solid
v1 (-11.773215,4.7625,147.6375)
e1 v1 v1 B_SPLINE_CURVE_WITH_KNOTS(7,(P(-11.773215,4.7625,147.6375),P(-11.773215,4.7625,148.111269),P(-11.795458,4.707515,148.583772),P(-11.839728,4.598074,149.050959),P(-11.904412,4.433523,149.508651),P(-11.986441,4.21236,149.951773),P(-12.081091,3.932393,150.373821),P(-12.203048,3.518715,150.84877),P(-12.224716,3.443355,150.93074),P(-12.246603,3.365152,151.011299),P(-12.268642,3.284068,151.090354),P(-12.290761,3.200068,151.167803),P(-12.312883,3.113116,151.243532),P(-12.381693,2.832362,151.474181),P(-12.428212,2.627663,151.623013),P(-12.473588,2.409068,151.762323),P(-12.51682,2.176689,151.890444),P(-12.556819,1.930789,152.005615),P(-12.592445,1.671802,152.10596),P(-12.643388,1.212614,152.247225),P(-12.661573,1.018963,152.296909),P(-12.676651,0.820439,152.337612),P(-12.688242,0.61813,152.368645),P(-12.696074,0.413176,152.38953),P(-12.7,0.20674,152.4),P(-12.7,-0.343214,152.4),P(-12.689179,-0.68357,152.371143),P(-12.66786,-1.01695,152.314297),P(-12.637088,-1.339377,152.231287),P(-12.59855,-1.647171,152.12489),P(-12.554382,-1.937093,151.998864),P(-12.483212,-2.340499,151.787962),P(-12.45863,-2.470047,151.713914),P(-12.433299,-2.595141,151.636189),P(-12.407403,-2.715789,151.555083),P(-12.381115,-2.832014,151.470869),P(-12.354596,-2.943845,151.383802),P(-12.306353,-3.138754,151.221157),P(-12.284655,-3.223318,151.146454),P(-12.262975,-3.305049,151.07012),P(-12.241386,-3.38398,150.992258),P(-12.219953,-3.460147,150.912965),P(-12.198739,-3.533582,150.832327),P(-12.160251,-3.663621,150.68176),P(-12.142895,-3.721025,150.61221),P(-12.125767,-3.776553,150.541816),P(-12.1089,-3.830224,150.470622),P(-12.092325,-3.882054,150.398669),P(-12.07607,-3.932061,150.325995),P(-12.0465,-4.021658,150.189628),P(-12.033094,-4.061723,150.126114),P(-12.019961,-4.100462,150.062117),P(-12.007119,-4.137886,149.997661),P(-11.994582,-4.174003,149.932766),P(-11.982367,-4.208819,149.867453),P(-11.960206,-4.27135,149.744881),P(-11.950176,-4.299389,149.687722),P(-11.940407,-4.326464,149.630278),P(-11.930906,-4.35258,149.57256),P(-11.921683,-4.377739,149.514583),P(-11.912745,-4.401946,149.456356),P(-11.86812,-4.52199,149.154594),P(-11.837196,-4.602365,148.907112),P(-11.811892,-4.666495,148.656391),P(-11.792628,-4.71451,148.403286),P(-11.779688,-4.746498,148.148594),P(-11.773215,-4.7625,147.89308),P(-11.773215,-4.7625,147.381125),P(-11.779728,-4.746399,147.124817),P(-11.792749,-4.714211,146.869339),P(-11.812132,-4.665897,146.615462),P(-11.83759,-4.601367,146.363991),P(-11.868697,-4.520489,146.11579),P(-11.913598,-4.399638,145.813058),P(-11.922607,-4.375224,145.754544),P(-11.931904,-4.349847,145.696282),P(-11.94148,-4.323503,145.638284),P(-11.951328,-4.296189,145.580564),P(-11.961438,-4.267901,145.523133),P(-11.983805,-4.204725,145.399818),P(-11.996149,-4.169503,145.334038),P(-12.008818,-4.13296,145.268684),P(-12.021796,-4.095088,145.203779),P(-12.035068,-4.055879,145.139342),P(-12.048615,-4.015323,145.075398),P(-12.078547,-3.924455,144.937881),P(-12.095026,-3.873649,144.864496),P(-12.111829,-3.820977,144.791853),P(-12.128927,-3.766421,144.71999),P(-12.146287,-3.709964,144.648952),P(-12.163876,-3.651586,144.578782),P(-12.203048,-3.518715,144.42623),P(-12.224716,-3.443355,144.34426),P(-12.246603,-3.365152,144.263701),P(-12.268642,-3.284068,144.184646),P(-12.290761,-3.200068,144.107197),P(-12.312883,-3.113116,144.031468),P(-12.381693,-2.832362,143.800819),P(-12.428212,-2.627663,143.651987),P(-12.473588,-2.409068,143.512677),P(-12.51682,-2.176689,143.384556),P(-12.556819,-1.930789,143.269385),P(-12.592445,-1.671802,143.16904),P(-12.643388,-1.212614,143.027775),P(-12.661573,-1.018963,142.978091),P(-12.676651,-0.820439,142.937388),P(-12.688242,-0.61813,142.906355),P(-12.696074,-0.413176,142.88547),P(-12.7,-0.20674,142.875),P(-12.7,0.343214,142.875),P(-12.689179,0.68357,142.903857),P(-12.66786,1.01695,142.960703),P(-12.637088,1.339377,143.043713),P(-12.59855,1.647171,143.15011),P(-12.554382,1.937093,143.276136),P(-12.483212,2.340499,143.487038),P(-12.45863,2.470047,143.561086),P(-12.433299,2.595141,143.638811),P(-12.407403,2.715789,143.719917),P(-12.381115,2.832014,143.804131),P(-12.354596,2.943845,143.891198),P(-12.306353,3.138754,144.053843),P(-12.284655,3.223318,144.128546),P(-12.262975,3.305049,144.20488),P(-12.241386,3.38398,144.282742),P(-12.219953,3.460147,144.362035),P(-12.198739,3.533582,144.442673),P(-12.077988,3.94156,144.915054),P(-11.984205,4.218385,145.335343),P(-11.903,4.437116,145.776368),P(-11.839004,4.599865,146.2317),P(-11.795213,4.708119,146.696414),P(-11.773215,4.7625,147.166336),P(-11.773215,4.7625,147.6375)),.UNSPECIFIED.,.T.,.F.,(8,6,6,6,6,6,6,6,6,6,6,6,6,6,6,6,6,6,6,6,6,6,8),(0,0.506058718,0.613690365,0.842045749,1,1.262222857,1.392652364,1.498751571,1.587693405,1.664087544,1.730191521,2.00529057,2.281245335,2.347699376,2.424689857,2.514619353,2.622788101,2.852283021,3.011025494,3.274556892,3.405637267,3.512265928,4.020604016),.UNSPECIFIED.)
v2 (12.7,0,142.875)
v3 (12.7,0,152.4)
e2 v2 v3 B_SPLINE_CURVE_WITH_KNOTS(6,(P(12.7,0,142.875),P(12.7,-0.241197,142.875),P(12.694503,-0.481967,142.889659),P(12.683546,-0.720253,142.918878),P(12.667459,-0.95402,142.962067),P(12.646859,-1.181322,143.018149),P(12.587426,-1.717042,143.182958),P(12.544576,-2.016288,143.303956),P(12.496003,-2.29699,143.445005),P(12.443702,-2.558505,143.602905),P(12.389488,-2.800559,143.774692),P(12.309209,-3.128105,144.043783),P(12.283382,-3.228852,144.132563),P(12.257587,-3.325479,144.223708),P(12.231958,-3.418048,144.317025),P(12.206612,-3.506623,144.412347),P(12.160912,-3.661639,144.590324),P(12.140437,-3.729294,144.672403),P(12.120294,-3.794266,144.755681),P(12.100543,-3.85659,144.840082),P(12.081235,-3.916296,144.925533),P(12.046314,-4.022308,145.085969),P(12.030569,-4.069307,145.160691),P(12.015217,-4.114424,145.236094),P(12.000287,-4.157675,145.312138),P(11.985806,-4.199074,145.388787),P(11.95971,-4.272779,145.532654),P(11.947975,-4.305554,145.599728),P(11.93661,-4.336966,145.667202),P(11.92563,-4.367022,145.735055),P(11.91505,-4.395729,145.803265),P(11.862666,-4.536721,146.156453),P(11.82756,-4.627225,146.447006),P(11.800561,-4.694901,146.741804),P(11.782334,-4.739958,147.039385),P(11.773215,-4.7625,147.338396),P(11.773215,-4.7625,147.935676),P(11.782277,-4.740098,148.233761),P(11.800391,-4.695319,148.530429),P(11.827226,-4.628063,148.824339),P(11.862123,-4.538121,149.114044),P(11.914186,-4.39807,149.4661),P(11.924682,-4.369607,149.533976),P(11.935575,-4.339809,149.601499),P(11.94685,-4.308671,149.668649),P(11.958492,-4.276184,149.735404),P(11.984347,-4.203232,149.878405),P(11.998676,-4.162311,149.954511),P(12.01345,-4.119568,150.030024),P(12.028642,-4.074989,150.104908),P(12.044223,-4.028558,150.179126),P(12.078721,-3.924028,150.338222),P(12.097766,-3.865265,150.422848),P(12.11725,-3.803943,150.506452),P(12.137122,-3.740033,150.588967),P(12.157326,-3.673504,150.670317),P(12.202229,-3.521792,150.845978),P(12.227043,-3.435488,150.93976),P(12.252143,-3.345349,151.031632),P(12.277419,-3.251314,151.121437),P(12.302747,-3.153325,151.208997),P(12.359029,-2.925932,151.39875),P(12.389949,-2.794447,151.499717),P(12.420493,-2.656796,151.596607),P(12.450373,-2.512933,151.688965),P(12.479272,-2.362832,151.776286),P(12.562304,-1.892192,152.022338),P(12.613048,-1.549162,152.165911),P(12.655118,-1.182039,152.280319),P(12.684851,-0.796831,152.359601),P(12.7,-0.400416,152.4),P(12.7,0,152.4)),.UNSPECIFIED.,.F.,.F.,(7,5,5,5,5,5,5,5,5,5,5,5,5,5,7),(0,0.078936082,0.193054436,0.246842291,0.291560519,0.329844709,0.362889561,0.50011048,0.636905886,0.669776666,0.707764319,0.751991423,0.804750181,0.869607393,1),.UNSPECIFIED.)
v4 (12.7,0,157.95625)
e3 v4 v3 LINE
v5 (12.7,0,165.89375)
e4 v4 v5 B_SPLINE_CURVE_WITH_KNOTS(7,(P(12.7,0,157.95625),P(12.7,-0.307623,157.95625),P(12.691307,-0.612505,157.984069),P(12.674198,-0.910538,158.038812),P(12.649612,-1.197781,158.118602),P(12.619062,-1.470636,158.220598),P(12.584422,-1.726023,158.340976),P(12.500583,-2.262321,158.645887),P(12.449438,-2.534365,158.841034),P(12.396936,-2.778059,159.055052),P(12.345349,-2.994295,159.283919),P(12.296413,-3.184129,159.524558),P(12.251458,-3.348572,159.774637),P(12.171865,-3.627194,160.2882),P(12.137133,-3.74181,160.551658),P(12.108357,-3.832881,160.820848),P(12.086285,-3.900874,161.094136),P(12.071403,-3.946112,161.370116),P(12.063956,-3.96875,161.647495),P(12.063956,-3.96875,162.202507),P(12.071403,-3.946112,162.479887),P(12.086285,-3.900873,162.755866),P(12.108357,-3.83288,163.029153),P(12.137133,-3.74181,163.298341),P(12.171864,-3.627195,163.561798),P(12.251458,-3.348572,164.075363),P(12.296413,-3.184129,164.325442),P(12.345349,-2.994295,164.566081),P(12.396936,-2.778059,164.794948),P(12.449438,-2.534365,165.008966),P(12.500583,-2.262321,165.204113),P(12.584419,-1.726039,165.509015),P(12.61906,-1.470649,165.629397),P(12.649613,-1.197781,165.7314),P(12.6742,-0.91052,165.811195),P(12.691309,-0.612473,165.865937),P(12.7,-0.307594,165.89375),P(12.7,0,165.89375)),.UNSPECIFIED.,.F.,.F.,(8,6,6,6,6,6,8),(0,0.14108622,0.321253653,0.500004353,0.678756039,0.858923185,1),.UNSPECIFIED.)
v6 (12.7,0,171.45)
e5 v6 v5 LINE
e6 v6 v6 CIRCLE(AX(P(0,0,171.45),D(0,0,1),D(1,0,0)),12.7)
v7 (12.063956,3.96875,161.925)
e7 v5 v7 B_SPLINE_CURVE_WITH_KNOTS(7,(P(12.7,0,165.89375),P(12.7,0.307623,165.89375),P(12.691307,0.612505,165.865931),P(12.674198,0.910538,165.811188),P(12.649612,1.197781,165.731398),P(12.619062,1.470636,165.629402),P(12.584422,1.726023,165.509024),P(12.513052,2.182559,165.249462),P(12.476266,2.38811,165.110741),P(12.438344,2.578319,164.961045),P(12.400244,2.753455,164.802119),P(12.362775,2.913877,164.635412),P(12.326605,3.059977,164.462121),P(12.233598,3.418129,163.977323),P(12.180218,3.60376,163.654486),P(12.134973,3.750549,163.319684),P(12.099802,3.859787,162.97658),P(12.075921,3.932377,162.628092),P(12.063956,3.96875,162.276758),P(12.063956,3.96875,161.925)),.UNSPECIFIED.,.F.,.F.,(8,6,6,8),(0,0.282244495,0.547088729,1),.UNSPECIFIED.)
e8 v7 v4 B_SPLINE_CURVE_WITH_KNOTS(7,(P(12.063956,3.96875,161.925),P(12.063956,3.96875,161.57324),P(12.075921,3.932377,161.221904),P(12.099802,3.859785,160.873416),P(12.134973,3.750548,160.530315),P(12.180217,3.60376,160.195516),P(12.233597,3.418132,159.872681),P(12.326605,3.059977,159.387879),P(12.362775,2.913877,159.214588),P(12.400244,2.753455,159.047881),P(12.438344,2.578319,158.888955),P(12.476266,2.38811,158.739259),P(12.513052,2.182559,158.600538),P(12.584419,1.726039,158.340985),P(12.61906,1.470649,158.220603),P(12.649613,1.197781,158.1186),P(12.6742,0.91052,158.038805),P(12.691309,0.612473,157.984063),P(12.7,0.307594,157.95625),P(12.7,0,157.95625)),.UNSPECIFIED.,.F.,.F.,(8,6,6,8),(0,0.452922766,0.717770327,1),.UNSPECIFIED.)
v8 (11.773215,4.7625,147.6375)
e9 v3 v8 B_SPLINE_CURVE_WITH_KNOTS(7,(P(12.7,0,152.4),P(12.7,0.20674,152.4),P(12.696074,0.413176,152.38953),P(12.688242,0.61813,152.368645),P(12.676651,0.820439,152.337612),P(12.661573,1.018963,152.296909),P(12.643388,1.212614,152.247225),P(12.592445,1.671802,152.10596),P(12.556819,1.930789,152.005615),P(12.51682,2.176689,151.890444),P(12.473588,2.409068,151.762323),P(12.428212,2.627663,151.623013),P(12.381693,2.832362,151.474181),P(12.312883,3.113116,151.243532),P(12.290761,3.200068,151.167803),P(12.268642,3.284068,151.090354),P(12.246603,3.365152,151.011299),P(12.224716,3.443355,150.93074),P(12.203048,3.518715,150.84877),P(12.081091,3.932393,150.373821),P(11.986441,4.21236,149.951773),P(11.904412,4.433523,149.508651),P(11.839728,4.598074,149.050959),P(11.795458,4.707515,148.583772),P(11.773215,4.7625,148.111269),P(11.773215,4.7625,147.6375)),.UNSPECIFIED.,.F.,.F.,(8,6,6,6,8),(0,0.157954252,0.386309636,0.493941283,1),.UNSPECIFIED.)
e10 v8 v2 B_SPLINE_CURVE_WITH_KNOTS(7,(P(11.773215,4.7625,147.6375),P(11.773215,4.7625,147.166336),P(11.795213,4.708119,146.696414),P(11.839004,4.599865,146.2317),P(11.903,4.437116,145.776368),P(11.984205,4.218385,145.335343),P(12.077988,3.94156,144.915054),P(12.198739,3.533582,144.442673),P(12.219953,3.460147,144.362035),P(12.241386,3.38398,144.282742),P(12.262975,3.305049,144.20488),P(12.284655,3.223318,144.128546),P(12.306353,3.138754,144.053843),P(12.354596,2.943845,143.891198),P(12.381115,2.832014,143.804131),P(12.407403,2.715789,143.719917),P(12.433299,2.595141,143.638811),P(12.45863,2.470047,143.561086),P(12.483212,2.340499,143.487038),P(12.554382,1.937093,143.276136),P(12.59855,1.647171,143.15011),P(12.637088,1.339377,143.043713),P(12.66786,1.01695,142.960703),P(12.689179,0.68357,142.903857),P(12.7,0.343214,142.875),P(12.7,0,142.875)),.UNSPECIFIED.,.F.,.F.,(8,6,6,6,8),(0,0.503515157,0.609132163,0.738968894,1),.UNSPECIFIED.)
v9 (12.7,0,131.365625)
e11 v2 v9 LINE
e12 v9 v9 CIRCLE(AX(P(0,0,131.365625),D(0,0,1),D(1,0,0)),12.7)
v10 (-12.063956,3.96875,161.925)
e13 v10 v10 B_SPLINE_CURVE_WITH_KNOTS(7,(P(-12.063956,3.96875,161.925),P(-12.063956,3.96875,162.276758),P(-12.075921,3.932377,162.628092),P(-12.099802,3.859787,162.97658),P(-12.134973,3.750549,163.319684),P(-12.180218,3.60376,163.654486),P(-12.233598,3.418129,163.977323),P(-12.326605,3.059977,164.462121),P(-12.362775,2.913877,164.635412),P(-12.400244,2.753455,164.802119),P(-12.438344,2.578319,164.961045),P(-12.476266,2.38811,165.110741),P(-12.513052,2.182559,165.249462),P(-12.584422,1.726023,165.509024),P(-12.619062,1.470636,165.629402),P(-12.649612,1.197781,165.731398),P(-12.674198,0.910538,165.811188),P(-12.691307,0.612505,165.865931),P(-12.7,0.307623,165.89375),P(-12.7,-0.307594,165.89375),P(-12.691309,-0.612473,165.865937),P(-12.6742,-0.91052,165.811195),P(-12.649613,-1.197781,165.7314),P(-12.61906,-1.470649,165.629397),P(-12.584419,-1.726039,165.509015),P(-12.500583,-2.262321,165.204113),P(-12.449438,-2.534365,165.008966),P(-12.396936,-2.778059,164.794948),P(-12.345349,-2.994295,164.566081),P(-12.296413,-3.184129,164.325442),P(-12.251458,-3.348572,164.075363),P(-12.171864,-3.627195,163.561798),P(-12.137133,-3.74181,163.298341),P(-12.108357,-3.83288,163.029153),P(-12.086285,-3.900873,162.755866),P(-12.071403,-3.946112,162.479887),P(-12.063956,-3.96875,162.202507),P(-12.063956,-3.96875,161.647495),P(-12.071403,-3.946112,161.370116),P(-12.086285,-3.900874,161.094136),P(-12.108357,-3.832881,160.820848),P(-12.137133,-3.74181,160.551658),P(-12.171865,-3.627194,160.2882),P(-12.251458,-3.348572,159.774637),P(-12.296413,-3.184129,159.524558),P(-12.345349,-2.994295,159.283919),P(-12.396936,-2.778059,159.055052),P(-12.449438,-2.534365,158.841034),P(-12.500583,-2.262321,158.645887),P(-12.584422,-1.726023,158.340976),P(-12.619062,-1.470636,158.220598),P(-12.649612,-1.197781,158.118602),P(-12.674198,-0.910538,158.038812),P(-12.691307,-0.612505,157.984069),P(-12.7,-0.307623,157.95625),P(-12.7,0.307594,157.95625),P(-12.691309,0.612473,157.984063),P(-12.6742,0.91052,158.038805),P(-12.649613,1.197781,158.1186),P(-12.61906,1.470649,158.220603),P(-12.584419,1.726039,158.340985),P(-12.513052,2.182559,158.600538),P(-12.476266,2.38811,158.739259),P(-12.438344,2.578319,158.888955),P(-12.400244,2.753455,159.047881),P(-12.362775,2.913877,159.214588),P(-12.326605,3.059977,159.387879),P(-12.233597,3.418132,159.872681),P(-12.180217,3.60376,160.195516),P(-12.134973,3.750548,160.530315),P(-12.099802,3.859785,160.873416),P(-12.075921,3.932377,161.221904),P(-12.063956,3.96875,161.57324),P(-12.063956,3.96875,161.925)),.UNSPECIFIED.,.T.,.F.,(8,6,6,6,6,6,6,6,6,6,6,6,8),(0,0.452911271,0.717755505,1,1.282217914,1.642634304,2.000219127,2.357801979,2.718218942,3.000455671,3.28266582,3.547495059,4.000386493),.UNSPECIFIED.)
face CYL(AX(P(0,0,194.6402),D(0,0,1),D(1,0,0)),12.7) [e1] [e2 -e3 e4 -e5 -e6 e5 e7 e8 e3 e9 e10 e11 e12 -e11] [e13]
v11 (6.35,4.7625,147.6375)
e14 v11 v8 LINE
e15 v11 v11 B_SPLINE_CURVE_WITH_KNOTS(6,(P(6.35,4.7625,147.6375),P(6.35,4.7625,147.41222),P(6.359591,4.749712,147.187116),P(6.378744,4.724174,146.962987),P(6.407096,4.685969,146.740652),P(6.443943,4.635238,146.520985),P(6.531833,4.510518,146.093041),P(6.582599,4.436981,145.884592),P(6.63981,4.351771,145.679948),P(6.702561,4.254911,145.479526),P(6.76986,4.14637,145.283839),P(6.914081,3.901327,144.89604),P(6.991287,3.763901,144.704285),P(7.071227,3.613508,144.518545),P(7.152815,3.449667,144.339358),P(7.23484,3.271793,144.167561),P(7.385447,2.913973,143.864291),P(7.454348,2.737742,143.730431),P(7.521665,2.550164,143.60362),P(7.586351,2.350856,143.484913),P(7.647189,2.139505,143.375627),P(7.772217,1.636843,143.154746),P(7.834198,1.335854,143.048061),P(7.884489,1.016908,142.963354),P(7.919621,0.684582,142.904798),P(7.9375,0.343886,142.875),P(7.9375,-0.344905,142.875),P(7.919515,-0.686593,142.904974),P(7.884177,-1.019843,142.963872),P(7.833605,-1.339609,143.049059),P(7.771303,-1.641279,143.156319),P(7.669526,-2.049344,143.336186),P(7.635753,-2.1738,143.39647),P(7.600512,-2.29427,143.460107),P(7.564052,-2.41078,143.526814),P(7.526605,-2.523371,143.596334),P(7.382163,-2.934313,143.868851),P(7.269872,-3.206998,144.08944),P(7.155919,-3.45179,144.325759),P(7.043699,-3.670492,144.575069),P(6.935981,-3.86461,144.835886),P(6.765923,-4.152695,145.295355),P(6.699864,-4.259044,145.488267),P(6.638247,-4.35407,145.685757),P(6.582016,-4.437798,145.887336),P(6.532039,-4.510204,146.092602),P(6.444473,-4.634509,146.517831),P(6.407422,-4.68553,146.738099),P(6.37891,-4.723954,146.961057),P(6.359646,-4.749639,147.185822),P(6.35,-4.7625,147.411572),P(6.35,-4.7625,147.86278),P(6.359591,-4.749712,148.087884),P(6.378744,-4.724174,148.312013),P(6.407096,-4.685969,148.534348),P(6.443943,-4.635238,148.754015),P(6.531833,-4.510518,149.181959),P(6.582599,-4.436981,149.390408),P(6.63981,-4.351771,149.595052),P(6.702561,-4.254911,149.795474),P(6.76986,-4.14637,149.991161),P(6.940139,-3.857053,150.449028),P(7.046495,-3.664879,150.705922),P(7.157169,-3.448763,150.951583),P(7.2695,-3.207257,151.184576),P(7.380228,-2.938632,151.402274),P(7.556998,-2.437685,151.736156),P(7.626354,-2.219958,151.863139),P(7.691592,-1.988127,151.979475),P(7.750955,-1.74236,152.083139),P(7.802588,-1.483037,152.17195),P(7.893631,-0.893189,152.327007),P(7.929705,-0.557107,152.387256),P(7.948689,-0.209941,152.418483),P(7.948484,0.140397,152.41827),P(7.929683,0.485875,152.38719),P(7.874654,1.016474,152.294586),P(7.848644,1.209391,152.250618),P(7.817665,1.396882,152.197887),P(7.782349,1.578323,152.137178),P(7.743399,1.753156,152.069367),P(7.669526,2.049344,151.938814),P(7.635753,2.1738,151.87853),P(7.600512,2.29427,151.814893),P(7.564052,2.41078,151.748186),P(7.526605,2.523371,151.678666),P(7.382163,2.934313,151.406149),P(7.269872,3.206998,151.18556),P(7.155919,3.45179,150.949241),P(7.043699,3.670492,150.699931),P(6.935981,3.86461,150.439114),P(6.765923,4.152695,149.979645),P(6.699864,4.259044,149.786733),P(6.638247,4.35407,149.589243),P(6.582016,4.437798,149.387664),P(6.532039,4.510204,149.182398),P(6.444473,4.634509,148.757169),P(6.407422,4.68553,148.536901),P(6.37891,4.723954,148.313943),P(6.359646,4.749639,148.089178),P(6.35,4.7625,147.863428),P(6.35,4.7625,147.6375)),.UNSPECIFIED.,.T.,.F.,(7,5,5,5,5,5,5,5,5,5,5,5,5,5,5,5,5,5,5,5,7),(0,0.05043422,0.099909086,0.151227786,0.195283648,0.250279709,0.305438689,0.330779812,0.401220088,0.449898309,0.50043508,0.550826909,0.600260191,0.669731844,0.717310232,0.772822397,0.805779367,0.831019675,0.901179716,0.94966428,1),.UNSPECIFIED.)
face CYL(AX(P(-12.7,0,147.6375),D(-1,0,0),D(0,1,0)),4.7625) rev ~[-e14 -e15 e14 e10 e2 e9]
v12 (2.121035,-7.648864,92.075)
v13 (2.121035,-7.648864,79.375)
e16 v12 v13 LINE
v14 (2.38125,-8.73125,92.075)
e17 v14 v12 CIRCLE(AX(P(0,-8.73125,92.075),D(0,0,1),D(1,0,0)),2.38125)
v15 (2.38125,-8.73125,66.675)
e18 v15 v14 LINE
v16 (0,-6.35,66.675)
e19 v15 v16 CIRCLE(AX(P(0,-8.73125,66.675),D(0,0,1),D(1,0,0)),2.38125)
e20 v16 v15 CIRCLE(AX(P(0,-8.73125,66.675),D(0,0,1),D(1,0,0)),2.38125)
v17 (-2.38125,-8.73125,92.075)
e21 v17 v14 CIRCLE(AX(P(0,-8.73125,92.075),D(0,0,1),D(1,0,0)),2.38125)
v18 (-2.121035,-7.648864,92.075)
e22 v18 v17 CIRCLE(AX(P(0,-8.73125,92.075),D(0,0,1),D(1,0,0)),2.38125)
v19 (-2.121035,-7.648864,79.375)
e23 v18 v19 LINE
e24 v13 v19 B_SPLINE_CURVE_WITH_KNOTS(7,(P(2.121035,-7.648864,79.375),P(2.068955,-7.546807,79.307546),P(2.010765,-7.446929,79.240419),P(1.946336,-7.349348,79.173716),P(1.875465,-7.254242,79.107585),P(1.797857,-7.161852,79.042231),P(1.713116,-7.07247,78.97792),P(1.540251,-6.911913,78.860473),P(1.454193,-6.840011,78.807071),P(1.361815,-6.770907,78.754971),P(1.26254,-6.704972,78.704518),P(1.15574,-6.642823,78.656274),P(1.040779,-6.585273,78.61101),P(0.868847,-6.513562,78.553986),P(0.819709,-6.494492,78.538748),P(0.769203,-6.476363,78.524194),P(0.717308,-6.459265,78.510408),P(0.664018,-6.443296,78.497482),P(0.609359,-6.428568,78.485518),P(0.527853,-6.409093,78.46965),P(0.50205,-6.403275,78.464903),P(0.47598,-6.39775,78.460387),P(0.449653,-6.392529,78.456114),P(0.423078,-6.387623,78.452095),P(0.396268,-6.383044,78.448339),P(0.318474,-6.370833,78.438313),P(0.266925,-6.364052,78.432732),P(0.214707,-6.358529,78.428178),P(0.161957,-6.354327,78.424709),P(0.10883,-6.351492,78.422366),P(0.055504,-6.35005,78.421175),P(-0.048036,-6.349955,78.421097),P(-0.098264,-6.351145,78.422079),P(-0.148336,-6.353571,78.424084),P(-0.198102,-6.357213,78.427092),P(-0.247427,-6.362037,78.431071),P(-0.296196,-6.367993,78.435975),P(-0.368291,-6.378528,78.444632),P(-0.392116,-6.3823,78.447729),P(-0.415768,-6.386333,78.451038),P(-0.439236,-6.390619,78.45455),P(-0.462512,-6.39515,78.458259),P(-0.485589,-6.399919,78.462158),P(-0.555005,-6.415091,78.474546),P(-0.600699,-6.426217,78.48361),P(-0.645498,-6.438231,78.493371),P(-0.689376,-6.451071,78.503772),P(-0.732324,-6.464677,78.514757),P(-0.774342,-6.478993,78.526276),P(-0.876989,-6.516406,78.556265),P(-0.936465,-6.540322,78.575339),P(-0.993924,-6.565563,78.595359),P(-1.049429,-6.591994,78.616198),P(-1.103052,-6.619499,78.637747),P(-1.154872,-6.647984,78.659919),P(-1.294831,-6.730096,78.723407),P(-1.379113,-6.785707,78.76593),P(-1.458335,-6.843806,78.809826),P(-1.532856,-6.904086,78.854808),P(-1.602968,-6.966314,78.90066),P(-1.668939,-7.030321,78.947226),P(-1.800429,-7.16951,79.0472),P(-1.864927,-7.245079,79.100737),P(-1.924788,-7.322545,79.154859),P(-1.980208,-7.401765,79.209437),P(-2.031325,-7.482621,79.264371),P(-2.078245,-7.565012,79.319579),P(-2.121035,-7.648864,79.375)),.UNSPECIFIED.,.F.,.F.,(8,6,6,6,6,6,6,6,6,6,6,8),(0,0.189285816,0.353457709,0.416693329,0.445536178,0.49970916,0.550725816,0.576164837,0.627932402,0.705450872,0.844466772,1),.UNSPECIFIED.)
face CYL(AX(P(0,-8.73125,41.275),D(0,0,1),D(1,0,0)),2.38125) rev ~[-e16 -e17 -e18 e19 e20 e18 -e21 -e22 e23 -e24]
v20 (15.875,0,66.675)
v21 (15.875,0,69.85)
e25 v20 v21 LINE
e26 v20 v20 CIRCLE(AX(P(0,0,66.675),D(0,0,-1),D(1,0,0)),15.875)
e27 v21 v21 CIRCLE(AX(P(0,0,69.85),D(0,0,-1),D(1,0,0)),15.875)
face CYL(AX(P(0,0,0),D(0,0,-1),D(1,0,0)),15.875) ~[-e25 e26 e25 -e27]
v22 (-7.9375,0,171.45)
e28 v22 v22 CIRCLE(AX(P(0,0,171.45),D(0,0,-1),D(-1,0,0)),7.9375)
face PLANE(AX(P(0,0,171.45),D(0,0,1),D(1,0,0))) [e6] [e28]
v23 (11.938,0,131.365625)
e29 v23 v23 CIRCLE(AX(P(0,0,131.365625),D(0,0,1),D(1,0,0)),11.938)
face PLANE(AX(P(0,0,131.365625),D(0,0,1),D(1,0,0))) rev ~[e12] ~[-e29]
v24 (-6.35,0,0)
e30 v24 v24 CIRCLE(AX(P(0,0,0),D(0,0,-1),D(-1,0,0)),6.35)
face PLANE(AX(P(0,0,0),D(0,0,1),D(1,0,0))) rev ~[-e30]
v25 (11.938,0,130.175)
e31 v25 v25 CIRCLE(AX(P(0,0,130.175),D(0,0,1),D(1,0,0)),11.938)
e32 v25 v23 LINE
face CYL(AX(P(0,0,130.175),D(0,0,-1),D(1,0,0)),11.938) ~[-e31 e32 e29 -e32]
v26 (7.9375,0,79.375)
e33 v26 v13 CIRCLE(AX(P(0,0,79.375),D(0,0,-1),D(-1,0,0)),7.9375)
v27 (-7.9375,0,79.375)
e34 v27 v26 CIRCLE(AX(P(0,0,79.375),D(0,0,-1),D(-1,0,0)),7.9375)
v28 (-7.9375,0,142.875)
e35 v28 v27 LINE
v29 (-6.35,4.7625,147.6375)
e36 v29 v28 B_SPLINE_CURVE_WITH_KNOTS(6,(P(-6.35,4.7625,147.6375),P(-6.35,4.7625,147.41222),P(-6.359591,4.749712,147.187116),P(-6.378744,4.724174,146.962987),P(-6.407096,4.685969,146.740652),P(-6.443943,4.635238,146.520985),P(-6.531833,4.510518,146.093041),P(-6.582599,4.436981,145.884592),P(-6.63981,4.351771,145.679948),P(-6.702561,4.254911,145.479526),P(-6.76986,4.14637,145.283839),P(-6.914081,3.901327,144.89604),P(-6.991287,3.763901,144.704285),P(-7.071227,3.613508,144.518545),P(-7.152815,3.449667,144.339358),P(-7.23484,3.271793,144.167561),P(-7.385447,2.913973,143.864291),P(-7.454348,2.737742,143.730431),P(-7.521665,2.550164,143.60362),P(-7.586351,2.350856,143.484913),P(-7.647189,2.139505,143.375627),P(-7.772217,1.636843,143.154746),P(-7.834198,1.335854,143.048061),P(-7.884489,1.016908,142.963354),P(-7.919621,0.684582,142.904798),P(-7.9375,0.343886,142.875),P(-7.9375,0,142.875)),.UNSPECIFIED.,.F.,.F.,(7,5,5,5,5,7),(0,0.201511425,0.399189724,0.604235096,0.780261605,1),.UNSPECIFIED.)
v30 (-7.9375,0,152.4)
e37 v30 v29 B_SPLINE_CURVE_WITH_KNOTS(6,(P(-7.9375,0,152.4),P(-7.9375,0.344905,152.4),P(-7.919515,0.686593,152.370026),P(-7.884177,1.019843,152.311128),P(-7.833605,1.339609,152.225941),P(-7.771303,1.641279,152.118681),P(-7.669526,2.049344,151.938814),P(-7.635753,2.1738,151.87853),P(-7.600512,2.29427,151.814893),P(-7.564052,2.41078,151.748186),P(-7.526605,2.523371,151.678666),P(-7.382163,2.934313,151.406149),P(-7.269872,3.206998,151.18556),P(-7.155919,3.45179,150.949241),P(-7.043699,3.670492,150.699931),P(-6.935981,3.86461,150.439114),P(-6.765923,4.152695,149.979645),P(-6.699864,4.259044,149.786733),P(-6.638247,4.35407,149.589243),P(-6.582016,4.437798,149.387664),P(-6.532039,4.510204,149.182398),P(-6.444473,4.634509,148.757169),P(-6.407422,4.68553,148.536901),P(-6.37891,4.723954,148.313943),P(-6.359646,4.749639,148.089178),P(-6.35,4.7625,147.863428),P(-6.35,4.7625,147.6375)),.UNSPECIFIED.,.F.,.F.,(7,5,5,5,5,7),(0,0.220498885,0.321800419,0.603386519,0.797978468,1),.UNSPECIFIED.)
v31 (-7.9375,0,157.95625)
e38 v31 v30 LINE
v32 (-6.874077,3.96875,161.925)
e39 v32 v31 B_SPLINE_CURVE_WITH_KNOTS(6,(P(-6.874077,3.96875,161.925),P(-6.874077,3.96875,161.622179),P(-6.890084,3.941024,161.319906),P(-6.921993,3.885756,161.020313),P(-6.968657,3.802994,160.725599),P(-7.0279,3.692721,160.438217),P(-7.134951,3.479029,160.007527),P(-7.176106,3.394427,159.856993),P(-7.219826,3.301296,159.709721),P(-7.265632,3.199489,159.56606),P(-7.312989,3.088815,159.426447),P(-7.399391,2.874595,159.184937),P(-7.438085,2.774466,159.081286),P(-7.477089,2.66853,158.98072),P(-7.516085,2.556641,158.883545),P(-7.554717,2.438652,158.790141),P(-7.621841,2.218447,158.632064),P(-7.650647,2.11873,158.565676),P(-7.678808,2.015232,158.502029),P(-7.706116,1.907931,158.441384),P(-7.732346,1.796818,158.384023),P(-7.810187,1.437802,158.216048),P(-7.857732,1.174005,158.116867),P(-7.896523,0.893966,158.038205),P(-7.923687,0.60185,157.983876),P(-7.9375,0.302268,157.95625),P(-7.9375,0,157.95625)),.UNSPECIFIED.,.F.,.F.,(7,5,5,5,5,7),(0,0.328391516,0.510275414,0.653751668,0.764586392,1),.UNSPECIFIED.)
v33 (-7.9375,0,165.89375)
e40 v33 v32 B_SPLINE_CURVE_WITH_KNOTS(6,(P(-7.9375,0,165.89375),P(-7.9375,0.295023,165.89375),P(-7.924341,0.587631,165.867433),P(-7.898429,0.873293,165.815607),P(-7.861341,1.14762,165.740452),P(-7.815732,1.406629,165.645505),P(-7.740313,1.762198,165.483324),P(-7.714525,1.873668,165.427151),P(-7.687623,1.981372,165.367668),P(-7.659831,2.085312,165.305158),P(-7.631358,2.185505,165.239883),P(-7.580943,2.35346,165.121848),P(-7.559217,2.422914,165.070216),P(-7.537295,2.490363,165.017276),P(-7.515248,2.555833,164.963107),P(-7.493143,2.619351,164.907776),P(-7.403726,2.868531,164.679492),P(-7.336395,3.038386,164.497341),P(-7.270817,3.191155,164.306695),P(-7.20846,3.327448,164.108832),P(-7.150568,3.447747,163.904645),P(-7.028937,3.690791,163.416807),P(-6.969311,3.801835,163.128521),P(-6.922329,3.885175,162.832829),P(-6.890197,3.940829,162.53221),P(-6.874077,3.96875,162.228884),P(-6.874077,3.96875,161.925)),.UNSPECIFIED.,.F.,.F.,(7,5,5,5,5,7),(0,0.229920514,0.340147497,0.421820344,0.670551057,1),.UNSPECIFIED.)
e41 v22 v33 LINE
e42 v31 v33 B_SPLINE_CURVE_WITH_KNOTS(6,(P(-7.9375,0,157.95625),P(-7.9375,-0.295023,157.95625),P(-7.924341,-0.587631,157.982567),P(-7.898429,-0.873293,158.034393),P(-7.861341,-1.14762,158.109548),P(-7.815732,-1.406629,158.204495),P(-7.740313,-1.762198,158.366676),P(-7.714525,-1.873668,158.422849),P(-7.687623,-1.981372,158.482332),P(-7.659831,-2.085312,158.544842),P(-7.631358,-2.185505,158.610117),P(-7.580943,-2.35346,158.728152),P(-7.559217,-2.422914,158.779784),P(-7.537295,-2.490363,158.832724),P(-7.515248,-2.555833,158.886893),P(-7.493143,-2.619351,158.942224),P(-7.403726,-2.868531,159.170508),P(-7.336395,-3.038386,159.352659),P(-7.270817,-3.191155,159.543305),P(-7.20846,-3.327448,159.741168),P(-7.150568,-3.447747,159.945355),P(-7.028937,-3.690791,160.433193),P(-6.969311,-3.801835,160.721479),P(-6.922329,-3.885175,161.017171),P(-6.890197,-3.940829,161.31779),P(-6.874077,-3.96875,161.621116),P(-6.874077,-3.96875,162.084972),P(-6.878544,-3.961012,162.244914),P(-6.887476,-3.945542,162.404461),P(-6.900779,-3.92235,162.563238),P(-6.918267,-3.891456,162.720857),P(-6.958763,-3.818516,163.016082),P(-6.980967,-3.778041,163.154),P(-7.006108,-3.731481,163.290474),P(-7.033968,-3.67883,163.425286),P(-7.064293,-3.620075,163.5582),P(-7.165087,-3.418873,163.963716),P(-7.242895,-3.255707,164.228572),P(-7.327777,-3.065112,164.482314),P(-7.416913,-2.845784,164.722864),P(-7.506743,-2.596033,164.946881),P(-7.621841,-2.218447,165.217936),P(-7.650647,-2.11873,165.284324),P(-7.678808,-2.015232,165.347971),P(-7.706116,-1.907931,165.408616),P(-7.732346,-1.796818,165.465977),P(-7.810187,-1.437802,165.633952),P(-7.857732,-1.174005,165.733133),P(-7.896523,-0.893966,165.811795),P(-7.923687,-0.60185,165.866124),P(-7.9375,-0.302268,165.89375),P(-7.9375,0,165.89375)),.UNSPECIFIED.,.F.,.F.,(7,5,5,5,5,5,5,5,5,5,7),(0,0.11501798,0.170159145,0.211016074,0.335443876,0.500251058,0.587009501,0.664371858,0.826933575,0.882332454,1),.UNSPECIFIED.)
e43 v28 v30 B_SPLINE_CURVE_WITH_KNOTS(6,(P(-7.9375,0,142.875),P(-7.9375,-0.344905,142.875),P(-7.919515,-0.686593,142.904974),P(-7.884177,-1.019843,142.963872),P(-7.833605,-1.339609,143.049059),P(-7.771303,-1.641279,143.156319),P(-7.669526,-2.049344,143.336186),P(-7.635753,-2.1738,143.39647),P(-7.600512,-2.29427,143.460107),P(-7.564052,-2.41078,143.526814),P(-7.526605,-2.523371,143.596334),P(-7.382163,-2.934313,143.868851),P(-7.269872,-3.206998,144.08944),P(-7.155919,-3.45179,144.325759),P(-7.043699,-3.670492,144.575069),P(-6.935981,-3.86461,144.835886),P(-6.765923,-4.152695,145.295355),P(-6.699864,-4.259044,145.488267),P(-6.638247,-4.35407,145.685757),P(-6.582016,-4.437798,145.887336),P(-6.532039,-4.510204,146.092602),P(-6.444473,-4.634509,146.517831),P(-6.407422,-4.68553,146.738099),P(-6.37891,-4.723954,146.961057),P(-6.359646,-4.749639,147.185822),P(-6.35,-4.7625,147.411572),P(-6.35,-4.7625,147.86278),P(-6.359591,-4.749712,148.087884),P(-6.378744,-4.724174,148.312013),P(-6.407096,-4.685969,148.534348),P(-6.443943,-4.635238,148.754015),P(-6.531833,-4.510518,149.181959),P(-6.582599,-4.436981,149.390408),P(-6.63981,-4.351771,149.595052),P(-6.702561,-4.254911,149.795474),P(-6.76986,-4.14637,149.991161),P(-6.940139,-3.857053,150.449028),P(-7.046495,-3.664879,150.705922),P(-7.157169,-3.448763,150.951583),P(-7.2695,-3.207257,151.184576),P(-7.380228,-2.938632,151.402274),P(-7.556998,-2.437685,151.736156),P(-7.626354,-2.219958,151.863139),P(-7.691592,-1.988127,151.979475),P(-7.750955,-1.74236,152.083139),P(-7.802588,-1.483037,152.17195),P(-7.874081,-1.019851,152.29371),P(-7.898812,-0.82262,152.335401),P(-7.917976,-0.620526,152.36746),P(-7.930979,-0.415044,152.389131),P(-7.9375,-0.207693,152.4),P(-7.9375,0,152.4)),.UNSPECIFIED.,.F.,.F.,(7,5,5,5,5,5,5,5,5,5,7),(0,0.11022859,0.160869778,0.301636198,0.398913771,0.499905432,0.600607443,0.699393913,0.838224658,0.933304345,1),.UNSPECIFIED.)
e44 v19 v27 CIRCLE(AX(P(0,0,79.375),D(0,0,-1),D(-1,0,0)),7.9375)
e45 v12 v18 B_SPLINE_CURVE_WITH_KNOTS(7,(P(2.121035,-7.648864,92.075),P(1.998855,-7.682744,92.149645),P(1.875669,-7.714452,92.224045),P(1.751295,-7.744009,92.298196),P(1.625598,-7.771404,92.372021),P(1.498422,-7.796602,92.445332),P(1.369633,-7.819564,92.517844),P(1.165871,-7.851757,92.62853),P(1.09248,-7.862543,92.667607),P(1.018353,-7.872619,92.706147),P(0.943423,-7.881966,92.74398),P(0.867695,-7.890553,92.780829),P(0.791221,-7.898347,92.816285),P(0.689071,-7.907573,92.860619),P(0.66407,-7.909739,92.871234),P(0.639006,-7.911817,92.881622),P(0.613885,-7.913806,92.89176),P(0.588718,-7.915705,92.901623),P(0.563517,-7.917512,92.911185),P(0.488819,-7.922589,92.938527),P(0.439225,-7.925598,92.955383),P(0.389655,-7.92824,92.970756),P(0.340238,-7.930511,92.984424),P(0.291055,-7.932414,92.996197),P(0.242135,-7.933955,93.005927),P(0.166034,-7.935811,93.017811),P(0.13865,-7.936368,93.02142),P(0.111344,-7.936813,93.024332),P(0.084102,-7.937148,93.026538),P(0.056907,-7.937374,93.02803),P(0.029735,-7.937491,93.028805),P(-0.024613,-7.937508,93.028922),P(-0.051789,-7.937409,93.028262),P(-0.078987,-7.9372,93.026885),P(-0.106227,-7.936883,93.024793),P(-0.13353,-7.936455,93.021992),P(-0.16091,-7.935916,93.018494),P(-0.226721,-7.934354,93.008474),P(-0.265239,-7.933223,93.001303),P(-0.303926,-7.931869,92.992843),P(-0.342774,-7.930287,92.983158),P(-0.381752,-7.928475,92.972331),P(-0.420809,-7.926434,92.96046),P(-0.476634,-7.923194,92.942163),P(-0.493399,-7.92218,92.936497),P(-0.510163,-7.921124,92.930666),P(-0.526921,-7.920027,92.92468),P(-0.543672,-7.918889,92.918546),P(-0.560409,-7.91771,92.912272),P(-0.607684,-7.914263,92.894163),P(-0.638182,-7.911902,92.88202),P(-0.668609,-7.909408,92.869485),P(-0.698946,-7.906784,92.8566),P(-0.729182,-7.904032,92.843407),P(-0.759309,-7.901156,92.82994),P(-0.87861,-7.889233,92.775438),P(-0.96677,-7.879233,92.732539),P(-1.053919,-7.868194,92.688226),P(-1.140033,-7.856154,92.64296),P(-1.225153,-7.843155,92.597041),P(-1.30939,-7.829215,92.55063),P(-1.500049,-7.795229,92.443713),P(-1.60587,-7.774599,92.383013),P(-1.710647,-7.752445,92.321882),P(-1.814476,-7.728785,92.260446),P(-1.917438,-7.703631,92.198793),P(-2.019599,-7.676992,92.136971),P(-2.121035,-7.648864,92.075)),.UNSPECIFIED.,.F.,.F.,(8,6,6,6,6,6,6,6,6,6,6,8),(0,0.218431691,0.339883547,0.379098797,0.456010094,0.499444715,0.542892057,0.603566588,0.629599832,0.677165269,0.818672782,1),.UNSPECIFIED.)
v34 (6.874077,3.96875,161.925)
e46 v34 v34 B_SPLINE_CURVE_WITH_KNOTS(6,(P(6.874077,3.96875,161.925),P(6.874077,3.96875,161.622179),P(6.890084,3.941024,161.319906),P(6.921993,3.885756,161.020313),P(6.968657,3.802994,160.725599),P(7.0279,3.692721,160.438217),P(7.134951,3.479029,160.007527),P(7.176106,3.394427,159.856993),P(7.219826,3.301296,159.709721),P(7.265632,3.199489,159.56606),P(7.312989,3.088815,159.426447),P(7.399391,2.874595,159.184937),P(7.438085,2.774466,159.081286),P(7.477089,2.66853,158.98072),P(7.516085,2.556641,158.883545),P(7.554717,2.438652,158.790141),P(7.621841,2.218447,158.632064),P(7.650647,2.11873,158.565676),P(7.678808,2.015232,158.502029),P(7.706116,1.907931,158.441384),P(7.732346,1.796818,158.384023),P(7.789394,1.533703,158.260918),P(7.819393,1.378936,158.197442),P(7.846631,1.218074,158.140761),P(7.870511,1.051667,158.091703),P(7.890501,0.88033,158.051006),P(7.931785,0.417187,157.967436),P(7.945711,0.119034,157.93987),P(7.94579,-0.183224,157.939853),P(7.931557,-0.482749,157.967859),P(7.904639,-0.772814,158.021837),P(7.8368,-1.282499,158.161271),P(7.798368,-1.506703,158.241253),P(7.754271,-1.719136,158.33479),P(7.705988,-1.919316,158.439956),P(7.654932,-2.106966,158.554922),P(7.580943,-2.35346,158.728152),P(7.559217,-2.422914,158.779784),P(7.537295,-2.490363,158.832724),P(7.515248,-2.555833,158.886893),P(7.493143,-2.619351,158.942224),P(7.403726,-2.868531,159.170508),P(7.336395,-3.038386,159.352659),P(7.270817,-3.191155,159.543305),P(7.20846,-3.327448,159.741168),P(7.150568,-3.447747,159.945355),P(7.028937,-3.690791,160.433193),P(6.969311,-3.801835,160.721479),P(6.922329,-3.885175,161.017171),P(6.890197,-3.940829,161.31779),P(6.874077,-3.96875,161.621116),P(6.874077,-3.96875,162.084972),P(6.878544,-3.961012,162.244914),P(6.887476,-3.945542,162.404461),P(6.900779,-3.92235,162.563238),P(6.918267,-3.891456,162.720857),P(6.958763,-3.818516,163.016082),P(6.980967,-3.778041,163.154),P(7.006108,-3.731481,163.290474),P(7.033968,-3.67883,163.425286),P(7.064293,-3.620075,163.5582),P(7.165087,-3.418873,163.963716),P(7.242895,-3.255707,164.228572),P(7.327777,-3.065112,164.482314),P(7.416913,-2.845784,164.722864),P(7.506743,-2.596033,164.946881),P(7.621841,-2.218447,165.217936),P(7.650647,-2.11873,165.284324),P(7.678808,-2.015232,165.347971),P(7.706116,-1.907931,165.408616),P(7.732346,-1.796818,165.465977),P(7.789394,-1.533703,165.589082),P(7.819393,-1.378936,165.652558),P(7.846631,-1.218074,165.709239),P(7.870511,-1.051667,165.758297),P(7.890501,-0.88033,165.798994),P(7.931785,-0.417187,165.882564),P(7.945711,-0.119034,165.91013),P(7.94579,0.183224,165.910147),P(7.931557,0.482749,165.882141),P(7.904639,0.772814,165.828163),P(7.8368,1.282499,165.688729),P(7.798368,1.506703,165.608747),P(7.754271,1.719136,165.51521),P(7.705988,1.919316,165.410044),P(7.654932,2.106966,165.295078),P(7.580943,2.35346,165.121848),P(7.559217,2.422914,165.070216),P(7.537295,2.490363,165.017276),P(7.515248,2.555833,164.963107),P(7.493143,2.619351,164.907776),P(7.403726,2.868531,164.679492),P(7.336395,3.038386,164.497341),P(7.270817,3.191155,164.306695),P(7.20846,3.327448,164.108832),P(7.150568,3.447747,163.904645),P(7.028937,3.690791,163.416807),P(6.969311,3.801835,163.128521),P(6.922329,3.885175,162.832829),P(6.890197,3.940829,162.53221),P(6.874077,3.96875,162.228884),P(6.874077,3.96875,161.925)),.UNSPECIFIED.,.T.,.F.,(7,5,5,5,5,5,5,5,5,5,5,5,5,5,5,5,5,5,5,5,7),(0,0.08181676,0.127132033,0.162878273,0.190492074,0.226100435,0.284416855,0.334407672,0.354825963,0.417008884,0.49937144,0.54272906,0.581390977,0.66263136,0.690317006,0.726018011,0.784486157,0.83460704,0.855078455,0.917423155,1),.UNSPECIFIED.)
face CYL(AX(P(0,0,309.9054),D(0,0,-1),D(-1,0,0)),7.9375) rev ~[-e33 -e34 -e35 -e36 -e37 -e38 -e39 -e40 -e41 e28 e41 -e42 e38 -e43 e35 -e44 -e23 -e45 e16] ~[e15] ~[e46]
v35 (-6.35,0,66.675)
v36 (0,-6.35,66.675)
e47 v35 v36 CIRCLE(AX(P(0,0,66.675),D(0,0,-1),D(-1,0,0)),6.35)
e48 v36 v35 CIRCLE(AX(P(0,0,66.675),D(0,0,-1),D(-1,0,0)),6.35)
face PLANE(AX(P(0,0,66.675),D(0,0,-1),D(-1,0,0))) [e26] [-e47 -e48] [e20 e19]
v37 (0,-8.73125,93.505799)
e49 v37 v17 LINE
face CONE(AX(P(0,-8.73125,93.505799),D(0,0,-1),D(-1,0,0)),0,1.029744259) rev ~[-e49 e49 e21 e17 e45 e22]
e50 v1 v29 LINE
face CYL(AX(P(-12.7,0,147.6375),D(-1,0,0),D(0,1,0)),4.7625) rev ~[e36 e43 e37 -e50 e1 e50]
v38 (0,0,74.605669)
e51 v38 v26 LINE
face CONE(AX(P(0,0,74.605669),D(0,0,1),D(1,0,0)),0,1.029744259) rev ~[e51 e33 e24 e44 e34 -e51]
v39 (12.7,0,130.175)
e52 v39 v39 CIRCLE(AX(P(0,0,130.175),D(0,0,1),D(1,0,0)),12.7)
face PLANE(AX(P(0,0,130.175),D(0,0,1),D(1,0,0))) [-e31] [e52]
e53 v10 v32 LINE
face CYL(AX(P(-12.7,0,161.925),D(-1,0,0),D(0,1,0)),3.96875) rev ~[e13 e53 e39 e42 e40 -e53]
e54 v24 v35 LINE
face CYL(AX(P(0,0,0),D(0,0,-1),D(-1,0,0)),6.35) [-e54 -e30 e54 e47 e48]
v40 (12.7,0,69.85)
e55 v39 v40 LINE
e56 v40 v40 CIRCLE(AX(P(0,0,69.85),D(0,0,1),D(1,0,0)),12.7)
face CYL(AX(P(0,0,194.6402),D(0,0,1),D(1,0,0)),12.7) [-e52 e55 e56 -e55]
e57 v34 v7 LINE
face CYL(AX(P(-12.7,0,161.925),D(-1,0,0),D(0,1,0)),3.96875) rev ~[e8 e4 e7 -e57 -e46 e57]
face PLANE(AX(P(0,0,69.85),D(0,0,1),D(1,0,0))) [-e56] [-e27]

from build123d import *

# Parameters (mm, degrees)
SKETCH1_R          = 15.875
RAWSTOCK_DEPTH     = 194.6402
SKETCH10_R         = 12.7
FACINGOP_DEPTH     = 23.1902
RELIEFHOLE_D       = 12.7
RELIEFHOLE_DEPTH   = 92.075
RELIEFHOLE_TIP     = 3.815464931
WIRESHOLE_D        = 15.875
WIRESHOLE_DEPTH    = 115.2652
WIRESHOLE_TIP      = 4.769331164
SKETCH6_OUTSIDE_W  = 73.7
SKETCH6_OUTSIDE_H  = 73.7
SKETCH6_OUTSIDE_R  = 12.7
SHAFTDIAM_DEPTH    = 124.7902
SKETCH7_OUTSIDE_W  = 69.196
SKETCH7_OUTSIDE_H  = 69.196
SKETCH7_OUTSIDE_R  = 11.938
GROOVE_DEPTH       = 1.190625
SKETCH8_OUTSIDE_W  = 69.196
SKETCH8_OUTSIDE_H  = 69.196
SKETCH8_OUTSIDE_R  = 6.35
ENCODERSHAFT_DEPTH = 66.675
SKETCH12_R         = 3.96875
SKETCH12_R_2       = 4.7625
HOLES_TOP_DEPTH    = 29.575
SLIPRINGHOLE_D     = 4.7625
SLIPRINGHOLE_DEPTH = 25.4
SLIPRINGHOLE_TIP   = 1.430799349


with BuildPart() as part:
    # Sketch1 → RawStock (new body)
    with BuildSketch(Plane.XY):
        Circle(SKETCH1_R)
    extrude(amount=RAWSTOCK_DEPTH)

    # Sketch10 → FacingOp (cut)
    with BuildSketch(Plane.XY.offset(194.6402)):
        Circle(SKETCH10_R)
    extrude(amount=-FACINGOP_DEPTH, mode=Mode.SUBTRACT)

    # ReliefHole
    with Locations(Plane.XY.offset(194.6402)):
        with Locations((0, 0)):
            Hole(RELIEFHOLE_D / 2, depth=RELIEFHOLE_DEPTH)
            with Locations((0, 0, -(RELIEFHOLE_DEPTH + RELIEFHOLE_TIP / 2))):  # 118° drill point
                Cone(0, RELIEFHOLE_D / 2, RELIEFHOLE_TIP, mode=Mode.SUBTRACT)

    # WiresHole
    with Locations(Plane.XY.offset(194.6402)):
        with Locations((0, 0)):
            Hole(WIRESHOLE_D / 2, depth=WIRESHOLE_DEPTH)
            with Locations((0, 0, -(WIRESHOLE_DEPTH + WIRESHOLE_TIP / 2))):  # 118° drill point
                Cone(0, WIRESHOLE_D / 2, WIRESHOLE_TIP, mode=Mode.SUBTRACT)

    # Sketch6 outside → ShaftDiam (cut)
    with BuildSketch(Plane.XY.offset(194.6402)):
        Rectangle(SKETCH6_OUTSIDE_W, SKETCH6_OUTSIDE_H)
        Circle(SKETCH6_OUTSIDE_R, mode=Mode.SUBTRACT)
    extrude(amount=-SHAFTDIAM_DEPTH, mode=Mode.SUBTRACT)

    # Sketch7 outside → Groove (cut)
    with BuildSketch(Plane.XY.offset(130.175)):
        Rectangle(SKETCH7_OUTSIDE_W, SKETCH7_OUTSIDE_H)
        Circle(SKETCH7_OUTSIDE_R, mode=Mode.SUBTRACT)
    extrude(amount=GROOVE_DEPTH, mode=Mode.SUBTRACT)

    # Sketch8 outside → EncoderShaft (cut)
    with BuildSketch(Plane(origin=(0, 0, 0), x_dir=(-1, 0, 0), z_dir=(0, 0, -1))):
        Rectangle(SKETCH8_OUTSIDE_W, SKETCH8_OUTSIDE_H)
        Circle(SKETCH8_OUTSIDE_R, mode=Mode.SUBTRACT)
    extrude(amount=-ENCODERSHAFT_DEPTH, mode=Mode.SUBTRACT)

    # Sketch12 → Holes_Top (cut, through all)
    with BuildSketch(Plane(origin=(-12.7, 0, 0), x_dir=(0, 1, 0), z_dir=(-1, 0, 0))):
        with Locations((0, -161.925)):
            Circle(SKETCH12_R)
        with Locations((0, -147.6375)):
            Circle(SKETCH12_R_2)
    extrude(amount=-HOLES_TOP_DEPTH, mode=Mode.SUBTRACT)

    # SlipRingHole
    with Locations(Plane(origin=(0, 0, 66.675), x_dir=(-1, 0, 0), z_dir=(0, 0, -1))):
        with Locations((0, -8.73125)):
            Hole(SLIPRINGHOLE_D / 2, depth=SLIPRINGHOLE_DEPTH)
            with Locations((0, 0, -(SLIPRINGHOLE_DEPTH + SLIPRINGHOLE_TIP / 2))):  # 118° drill point
                Cone(0, SLIPRINGHOLE_D / 2, SLIPRINGHOLE_TIP, mode=Mode.SUBTRACT)


solid = part.part
